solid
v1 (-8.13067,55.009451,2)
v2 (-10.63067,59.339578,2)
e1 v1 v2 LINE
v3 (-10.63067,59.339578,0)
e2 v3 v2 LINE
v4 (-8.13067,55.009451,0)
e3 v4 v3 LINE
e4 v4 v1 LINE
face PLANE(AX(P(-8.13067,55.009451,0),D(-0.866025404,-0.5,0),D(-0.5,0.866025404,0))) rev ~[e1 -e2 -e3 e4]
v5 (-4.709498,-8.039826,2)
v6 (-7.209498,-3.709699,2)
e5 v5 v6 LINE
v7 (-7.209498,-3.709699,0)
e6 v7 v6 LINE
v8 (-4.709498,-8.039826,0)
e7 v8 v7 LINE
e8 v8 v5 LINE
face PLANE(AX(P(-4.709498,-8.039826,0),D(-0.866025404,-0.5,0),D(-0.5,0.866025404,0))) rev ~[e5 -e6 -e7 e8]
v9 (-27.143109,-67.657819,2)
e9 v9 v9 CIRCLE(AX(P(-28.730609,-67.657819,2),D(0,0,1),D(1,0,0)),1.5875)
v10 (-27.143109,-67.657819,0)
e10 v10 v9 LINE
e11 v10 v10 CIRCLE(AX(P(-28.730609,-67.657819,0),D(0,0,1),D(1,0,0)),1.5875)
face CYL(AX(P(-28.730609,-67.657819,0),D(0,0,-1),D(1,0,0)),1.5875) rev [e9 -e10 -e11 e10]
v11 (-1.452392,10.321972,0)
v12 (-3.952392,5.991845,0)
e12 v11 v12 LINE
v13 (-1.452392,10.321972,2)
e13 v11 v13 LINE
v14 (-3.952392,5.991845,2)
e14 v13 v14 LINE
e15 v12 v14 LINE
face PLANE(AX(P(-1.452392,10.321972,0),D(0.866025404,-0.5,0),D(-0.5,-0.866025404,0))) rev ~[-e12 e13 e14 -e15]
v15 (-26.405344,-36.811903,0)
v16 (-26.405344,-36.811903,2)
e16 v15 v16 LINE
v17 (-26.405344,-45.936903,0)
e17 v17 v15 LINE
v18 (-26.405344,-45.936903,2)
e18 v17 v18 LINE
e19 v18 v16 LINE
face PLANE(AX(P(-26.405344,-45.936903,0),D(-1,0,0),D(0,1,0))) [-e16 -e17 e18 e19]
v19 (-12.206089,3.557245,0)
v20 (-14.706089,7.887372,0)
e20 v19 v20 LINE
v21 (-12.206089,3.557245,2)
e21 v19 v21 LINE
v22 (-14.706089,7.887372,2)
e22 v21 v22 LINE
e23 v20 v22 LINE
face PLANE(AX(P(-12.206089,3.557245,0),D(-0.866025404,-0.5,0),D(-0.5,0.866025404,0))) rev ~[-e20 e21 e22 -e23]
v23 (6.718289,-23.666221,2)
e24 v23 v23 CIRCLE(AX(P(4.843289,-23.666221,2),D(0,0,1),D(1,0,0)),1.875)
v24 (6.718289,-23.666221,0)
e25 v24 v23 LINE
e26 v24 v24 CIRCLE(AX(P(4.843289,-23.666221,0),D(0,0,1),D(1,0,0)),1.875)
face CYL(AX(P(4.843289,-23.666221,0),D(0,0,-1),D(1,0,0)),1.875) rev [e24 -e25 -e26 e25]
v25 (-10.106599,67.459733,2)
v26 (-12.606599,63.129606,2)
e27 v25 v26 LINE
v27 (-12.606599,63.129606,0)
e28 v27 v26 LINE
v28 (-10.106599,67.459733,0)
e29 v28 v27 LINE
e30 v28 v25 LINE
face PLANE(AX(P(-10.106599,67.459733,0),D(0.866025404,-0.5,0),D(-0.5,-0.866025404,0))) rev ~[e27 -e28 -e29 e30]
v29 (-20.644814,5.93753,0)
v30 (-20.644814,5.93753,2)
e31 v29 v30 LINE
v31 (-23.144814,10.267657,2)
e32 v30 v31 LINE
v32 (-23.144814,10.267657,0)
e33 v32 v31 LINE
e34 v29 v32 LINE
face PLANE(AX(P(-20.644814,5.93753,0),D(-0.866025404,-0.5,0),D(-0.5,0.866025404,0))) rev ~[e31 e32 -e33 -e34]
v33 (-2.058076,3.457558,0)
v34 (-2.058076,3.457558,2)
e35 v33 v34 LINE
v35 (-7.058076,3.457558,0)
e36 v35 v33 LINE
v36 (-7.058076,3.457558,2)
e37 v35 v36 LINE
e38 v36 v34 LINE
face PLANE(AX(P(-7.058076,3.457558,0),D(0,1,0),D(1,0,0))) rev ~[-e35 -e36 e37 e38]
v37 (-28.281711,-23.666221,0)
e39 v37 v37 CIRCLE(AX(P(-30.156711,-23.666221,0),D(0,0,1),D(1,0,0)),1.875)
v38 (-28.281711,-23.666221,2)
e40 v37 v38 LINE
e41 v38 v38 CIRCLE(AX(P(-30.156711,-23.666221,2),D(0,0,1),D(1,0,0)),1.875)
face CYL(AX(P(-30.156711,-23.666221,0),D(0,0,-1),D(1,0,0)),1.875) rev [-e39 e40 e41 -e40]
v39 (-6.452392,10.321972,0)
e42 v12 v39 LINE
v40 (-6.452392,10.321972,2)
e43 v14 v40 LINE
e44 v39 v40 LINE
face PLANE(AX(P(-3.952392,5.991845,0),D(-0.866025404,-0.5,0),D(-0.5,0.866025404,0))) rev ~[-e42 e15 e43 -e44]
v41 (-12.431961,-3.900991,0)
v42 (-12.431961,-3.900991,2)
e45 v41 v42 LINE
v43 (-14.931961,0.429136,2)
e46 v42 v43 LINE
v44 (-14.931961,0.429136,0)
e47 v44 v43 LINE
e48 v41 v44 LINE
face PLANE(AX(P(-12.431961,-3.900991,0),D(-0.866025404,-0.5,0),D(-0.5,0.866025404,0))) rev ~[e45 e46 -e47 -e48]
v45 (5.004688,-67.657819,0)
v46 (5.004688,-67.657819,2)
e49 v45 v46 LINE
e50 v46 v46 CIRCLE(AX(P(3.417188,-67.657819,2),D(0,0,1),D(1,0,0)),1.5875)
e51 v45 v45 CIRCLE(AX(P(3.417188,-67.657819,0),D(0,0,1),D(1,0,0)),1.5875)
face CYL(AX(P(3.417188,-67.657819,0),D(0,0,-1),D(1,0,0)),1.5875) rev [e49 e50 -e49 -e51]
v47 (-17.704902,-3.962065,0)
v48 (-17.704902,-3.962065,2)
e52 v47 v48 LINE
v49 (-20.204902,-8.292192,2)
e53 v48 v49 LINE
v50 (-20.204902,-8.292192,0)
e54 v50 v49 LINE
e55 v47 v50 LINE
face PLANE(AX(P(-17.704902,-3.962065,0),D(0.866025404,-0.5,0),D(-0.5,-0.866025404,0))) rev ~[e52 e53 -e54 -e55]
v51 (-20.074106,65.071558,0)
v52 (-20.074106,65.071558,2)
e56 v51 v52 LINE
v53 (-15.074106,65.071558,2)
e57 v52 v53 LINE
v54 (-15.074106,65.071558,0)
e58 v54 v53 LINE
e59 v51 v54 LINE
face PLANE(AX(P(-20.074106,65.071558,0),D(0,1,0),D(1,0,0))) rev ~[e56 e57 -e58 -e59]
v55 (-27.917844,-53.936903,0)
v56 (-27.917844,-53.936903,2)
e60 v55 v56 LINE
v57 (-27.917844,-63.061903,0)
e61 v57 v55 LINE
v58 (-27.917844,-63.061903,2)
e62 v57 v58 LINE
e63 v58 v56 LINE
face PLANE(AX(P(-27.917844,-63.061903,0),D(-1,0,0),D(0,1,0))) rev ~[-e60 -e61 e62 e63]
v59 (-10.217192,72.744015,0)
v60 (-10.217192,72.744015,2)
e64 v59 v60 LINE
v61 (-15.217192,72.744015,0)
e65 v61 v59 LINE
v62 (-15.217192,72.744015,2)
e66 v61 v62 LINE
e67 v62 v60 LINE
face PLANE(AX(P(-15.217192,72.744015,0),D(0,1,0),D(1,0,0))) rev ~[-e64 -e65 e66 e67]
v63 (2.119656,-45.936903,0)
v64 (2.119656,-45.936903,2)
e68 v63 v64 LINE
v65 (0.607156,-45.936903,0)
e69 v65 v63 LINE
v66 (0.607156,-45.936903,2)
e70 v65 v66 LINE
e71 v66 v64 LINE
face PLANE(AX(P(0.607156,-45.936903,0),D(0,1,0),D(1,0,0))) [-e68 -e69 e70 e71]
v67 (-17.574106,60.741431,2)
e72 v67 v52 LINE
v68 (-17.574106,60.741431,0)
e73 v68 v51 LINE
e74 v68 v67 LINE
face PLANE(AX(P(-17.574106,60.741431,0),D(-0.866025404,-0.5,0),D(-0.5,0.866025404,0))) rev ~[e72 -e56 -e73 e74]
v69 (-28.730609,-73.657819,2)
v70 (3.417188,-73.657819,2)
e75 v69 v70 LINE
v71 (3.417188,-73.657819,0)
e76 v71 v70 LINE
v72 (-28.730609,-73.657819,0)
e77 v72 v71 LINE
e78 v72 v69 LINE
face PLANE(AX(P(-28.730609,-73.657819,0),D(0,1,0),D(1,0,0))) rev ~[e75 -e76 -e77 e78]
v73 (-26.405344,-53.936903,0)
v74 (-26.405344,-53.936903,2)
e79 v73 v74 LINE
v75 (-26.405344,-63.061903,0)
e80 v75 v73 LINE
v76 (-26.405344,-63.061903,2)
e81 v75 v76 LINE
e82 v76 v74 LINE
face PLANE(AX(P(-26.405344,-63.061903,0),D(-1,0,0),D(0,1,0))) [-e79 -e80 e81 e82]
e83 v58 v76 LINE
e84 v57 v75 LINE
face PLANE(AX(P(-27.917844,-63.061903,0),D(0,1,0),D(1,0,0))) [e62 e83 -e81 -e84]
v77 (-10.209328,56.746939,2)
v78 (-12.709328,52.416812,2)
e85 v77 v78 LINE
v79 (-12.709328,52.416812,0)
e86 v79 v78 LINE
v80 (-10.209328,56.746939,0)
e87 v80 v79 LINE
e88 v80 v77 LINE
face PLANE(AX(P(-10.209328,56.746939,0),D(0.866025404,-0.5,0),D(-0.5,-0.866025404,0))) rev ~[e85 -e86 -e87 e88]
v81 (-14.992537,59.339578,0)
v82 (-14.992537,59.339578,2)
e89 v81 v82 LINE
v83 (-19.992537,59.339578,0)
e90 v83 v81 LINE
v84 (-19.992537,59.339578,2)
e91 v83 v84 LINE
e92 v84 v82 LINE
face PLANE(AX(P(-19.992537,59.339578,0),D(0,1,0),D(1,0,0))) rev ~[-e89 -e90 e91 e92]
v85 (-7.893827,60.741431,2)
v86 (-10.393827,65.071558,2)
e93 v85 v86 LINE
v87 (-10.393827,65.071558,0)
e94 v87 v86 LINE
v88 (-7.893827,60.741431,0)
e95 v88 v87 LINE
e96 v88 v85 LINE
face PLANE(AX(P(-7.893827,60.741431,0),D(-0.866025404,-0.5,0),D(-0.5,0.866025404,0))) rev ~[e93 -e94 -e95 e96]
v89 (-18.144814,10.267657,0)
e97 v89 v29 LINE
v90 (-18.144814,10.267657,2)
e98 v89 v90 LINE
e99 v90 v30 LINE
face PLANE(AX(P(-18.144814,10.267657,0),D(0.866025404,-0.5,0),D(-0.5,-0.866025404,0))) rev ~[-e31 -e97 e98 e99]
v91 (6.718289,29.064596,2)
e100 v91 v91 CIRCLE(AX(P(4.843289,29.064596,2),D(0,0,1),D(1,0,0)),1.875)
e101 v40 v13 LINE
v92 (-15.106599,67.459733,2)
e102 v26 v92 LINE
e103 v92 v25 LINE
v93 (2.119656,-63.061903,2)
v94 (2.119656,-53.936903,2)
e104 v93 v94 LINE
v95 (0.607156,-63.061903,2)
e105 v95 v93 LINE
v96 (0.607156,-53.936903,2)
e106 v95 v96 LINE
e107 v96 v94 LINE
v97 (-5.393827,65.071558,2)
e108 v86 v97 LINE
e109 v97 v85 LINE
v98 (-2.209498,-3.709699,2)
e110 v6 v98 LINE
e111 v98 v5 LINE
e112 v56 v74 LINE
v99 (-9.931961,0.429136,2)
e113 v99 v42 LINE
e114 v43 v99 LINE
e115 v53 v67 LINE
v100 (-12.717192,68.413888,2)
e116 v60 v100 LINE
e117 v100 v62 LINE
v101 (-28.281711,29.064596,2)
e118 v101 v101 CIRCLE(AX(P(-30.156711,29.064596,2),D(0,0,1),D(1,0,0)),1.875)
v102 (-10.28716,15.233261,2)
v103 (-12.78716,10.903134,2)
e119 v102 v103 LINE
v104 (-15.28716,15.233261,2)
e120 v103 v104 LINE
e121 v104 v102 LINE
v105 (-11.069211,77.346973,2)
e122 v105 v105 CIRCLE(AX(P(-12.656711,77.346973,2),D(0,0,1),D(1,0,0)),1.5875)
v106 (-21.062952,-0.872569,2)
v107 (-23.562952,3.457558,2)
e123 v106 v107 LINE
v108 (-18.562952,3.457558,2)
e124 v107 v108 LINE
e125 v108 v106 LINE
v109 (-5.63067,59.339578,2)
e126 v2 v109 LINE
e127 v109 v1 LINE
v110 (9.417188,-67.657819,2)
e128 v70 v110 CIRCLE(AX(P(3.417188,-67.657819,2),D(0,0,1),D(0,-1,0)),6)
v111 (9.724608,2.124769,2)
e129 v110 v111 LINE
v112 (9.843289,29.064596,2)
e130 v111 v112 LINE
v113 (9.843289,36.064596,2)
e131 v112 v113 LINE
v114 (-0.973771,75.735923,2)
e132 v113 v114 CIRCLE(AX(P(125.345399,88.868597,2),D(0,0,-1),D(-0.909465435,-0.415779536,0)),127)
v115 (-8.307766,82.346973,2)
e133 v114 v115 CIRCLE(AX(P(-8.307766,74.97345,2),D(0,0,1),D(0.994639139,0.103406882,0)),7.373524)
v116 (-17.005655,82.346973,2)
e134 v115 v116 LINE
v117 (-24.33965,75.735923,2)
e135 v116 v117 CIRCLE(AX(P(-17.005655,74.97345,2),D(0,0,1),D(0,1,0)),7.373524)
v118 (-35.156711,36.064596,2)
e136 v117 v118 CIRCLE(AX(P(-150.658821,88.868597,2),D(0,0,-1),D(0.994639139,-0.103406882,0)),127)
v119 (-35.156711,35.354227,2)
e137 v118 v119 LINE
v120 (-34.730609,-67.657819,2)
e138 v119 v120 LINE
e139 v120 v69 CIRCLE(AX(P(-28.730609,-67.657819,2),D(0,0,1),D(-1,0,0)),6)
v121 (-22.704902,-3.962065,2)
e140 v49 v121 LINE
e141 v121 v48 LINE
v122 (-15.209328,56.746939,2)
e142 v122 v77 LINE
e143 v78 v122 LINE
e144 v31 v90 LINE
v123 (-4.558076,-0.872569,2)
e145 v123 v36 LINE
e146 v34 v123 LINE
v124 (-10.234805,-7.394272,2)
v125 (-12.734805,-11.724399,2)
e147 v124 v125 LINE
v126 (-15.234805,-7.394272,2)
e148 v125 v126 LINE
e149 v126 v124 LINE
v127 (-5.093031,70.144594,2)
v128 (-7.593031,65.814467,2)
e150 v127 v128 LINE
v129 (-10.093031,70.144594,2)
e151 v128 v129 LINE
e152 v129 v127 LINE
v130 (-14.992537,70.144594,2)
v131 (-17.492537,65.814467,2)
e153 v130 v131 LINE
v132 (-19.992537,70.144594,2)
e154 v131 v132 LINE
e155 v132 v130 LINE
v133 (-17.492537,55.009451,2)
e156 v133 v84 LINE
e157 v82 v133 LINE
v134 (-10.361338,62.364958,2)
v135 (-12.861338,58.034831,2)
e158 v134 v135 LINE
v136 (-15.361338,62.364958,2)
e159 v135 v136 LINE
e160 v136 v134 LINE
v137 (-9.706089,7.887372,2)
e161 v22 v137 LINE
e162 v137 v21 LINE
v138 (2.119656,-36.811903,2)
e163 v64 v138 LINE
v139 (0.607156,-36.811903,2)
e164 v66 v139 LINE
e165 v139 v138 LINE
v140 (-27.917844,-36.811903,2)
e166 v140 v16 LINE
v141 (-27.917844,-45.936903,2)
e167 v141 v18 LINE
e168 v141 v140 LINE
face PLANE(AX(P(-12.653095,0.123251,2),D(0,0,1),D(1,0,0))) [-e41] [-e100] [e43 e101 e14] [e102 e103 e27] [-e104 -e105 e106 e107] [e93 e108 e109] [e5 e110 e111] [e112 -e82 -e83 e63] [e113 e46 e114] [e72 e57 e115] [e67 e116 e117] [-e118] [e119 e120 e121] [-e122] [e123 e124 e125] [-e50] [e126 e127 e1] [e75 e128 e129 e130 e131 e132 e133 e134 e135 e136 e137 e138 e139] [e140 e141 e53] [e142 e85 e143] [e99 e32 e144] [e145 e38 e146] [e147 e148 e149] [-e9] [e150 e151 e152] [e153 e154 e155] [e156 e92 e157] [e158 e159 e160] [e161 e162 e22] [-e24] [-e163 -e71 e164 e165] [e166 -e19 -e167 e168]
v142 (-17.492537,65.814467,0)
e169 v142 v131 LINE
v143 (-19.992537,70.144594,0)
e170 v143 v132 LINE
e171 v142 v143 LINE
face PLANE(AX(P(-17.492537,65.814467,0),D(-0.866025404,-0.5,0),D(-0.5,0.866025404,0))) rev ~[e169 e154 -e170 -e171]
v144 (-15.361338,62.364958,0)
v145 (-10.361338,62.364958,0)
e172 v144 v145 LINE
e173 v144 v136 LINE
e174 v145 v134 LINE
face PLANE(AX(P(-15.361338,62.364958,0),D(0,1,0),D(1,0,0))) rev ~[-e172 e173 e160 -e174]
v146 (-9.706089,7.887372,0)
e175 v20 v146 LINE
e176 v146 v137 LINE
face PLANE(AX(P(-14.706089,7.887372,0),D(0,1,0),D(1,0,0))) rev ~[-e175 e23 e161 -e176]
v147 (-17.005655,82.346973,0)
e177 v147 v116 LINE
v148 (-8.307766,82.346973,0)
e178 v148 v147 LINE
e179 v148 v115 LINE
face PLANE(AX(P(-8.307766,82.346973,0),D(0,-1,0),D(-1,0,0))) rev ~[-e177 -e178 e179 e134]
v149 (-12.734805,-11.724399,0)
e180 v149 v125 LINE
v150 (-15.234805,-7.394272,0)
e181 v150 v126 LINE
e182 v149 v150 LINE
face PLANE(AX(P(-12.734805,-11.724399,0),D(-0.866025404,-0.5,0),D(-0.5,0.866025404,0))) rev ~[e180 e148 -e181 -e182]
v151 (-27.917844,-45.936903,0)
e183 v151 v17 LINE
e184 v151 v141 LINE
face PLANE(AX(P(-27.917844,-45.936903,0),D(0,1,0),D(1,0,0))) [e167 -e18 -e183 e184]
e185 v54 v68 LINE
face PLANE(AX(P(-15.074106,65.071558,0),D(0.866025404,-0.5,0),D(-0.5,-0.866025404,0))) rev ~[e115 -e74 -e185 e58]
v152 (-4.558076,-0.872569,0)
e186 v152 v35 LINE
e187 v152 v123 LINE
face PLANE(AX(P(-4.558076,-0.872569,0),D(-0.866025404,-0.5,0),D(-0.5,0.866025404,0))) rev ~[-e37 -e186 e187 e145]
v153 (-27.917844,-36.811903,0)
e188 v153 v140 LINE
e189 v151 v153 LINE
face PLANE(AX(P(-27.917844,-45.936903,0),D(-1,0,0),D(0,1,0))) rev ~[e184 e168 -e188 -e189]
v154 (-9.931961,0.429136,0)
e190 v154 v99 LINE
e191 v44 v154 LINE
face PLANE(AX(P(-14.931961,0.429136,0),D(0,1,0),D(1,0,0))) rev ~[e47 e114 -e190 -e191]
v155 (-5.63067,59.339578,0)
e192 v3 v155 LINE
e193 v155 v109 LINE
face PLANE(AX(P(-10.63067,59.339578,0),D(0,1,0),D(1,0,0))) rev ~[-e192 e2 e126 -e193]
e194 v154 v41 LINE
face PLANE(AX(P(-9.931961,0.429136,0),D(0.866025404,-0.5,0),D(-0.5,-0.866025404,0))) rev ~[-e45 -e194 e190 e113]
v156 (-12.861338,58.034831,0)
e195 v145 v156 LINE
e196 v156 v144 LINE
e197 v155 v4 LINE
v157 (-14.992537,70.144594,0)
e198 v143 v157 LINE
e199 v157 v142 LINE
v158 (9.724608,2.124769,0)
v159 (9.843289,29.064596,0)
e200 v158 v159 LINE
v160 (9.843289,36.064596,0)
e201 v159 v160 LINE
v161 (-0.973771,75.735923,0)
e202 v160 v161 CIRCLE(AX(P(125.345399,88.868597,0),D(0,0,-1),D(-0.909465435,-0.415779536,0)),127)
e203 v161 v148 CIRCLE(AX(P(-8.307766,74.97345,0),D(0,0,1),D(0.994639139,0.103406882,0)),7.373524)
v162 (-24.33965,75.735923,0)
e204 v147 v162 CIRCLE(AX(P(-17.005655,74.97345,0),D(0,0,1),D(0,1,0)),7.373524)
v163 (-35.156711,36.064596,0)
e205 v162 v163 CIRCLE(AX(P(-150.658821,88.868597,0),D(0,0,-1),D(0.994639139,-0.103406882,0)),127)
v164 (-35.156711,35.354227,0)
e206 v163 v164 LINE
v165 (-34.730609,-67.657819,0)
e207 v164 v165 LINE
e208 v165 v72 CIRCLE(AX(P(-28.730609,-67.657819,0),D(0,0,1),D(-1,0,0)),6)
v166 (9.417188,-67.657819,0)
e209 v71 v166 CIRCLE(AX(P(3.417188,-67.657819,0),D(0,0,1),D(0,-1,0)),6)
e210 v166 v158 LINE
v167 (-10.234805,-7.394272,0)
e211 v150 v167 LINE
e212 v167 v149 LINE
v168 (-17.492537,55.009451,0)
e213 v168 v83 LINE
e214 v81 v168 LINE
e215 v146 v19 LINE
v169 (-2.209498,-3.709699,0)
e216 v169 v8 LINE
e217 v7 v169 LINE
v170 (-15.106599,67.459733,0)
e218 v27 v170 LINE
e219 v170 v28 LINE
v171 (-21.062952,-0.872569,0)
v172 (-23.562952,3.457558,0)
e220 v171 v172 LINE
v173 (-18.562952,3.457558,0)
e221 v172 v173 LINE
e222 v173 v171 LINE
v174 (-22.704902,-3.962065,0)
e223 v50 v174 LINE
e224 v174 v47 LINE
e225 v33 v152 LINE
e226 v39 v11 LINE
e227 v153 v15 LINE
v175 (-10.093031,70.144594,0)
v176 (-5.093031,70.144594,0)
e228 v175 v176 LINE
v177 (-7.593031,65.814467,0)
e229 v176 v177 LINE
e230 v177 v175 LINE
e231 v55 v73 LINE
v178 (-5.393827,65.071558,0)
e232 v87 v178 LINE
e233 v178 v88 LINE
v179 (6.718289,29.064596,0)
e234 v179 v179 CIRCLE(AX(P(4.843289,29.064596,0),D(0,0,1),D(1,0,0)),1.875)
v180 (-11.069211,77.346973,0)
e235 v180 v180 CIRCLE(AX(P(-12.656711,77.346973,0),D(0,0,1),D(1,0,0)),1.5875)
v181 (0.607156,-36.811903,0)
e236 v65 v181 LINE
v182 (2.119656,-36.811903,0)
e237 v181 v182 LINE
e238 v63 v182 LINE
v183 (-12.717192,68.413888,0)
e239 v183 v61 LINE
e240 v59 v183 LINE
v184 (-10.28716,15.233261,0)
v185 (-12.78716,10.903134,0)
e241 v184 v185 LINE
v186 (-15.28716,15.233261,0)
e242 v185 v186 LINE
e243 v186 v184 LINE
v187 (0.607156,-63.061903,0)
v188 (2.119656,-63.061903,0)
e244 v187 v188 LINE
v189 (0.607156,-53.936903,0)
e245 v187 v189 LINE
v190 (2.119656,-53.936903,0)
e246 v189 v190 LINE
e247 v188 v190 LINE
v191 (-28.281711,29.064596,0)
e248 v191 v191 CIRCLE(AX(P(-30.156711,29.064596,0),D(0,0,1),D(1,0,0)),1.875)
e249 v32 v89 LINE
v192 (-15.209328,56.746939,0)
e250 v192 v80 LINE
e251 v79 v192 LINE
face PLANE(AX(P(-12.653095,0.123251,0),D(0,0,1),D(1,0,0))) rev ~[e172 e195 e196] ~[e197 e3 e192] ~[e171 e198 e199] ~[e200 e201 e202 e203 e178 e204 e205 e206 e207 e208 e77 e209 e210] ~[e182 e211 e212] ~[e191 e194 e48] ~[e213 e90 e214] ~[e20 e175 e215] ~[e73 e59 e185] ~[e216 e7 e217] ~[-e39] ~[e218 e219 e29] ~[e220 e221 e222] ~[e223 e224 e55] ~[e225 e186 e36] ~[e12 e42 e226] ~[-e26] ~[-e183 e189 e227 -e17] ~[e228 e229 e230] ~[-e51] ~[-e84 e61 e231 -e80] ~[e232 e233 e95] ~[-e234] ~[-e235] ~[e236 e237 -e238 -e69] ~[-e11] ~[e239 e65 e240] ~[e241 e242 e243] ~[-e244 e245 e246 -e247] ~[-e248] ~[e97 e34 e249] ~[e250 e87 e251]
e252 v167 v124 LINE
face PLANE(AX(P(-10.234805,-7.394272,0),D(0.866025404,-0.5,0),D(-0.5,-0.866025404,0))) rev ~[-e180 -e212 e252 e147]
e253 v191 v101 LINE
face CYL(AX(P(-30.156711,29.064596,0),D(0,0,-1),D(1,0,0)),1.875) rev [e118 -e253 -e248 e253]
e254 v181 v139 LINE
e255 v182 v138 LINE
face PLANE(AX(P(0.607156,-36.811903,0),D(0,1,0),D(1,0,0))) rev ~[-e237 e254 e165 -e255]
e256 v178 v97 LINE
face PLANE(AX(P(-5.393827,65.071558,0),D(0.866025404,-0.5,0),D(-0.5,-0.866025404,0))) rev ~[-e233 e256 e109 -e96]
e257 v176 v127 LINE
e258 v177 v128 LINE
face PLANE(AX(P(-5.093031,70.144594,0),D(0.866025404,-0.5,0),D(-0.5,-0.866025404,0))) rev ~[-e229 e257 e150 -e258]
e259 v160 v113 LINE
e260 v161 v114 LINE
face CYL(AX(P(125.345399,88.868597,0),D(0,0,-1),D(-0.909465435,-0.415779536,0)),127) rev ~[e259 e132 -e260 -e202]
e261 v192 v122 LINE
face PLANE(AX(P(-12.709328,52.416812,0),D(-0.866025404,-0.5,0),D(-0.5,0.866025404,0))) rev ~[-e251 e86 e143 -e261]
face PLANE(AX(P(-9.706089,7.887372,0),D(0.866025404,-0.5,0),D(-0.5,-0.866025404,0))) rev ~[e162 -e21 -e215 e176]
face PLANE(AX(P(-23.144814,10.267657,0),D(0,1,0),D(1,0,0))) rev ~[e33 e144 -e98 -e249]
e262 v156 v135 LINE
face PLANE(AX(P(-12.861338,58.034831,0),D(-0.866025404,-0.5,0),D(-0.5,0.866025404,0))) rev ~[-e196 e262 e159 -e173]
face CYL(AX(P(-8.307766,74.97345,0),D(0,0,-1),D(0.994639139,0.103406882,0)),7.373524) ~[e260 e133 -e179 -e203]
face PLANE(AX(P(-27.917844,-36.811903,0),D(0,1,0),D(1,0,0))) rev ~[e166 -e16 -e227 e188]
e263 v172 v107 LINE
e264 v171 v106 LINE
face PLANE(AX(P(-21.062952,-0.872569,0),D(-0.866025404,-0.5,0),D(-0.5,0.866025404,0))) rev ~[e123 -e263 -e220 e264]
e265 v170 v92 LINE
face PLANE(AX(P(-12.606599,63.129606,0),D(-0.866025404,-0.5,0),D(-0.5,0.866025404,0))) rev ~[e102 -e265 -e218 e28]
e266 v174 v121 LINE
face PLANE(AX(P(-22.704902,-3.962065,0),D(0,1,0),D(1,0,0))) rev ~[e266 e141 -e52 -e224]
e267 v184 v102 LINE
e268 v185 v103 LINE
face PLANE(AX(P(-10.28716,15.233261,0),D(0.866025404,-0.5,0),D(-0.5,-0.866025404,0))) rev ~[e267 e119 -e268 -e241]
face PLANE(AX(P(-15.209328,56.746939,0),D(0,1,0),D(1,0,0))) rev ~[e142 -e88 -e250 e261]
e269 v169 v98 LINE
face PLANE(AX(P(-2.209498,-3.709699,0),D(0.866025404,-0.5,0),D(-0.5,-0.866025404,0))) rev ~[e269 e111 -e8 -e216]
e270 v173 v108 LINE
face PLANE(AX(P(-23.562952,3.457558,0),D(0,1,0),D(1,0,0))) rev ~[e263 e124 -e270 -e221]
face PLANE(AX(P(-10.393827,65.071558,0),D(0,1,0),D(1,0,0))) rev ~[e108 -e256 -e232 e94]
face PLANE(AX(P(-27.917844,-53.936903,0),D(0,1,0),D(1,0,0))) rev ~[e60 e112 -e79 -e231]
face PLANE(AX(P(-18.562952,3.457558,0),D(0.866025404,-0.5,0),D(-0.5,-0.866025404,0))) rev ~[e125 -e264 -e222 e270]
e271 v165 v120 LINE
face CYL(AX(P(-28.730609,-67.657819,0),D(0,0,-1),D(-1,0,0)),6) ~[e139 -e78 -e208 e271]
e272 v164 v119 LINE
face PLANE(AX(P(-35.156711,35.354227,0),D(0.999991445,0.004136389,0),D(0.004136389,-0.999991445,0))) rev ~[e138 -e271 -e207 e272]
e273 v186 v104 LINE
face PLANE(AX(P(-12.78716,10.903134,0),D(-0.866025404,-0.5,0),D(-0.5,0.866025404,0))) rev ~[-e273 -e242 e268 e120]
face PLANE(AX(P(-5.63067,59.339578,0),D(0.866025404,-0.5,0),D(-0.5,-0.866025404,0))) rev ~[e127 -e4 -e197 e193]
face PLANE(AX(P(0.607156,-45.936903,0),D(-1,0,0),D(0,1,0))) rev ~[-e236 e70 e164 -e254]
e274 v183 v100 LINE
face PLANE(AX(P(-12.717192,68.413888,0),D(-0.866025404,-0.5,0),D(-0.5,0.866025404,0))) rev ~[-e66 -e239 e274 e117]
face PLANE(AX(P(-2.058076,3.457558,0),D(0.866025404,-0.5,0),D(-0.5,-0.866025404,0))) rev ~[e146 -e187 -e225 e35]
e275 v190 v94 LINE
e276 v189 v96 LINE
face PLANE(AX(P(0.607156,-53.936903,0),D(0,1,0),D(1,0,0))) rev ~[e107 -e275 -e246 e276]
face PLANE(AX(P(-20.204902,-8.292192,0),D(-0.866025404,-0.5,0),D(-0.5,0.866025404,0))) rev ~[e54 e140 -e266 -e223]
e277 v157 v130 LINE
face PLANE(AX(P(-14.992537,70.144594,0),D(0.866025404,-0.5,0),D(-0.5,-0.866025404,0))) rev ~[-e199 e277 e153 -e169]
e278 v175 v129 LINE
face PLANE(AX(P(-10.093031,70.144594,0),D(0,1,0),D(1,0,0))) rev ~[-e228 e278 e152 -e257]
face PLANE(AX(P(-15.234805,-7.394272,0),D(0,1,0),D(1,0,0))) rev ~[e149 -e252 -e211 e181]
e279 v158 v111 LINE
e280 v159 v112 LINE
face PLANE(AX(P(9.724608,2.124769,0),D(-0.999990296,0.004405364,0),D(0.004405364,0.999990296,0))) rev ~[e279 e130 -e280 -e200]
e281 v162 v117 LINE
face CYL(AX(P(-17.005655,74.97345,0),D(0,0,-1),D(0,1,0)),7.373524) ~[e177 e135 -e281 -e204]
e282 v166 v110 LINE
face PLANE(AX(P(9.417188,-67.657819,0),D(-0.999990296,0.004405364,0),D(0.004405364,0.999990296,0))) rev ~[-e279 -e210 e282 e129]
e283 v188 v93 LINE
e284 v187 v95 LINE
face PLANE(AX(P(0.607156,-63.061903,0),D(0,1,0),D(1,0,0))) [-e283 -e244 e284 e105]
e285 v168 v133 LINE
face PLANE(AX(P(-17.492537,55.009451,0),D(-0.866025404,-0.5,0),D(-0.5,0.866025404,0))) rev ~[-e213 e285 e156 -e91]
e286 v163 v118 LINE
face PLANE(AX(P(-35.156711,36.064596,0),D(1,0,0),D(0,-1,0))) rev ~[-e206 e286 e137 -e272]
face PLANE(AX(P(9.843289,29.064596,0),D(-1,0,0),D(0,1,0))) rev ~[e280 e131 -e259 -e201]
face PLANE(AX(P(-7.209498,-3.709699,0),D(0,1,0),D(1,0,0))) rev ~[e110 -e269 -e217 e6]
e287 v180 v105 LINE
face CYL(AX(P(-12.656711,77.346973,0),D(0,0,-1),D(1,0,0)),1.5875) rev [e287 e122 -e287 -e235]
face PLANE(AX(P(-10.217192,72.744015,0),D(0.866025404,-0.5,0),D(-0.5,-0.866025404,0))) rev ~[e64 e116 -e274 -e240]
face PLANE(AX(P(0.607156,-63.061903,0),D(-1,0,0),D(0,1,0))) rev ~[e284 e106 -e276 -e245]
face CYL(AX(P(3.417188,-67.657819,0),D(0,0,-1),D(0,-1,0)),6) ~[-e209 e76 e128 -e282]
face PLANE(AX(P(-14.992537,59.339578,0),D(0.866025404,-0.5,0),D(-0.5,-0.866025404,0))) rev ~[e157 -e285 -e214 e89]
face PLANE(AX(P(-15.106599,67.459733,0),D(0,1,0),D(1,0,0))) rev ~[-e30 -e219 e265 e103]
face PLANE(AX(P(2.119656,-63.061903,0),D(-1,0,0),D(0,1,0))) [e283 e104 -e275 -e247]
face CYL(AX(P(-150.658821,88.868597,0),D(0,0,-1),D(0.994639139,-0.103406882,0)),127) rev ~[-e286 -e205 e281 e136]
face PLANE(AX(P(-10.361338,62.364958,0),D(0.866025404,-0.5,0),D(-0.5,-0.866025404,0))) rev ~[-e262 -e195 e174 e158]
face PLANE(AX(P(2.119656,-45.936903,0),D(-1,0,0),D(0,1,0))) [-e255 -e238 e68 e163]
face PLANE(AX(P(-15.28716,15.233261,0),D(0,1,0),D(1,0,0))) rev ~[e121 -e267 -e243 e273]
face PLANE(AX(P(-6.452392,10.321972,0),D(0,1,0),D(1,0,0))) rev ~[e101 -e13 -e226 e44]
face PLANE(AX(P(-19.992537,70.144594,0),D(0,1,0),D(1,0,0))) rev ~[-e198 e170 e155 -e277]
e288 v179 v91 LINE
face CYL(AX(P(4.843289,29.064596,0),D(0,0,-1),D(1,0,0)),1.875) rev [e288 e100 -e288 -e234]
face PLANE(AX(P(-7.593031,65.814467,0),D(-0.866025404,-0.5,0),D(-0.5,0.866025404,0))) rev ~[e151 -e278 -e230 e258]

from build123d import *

# Parameters (mm, degrees)
F0_R     = 1.5875
F0_W     = 1.5125
F0_H     = 9.125
F0_R_2   = 1.875
F1_DEPTH = 2


with BuildPart() as f1:
    # F0 (on Top) → F1 (new body)
    with BuildSketch(Plane.XY):
        with BuildLine():
            Line((-8.3077662669, 82.3469734799), (-12.6567107354, 82.3469734799))
            Line((-12.6567107354, 82.3469734799), (-17.0056552038, 82.3469734799))
            ThreePointArc((-17.0056552038, 82.3469734799), (-21.9425943503, 80.450262999), (-24.3396503152, 75.7359230148))
            ThreePointArc((-24.3396503152, 75.7359230148), (-28.1319401622, 55.4595641269), (-35.1567107354, 36.0645959539))
            Line((-35.1567107354, 36.0645959539), (-35.1567107354, 35.3542267511))
            Line((-35.1567107354, 35.3542267511), (-34.7306092033, -67.6578189428))
            ThreePointArc((-34.7306092033, -67.6578189428), (-32.9732498904, -71.9004596299), (-28.7306092033, -73.6578189428))
            Line((-28.7306092033, -73.6578189428), (3.4171877326, -73.6578189428))
            ThreePointArc((3.4171877326, -73.6578189428), (7.6598284197, -71.9004596299), (9.4171877326, -67.6578189428))
            Line((9.4171877326, -67.6578189428), (9.7246083807, 2.1247686199))
            Line((9.7246083807, 2.1247686199), (9.8432892646, 29.0645959539))
            Line((9.8432892646, 29.0645959539), (9.8432892646, 35.3542267511))
            Line((9.8432892646, 35.3542267511), (9.8432892646, 36.0645959539))
            ThreePointArc((9.8432892646, 36.0645959539), (2.8185186915, 55.4595641269), (-0.9737711555, 75.7359230148))
            ThreePointArc((-0.9737711555, 75.7359230148), (-3.3708271204, 80.450262999), (-8.3077662669, 82.3469734799))
        make_face()
        with Locations((-28.7306092033, -67.6578189428)):
            Circle(F0_R, mode=Mode.SUBTRACT)
        with Locations((-27.1615939174, -58.4994030434)):
            Rectangle(F0_W, F0_H, mode=Mode.SUBTRACT)
        with Locations((-27.1615939174, -41.3744030434)):
            Rectangle(F0_W, F0_H, mode=Mode.SUBTRACT)
        with Locations((-30.1567107354, -23.6662209918)):
            Circle(F0_R_2, mode=Mode.SUBTRACT)
        Polygon((-22.7049022828, -3.962064999), (-17.7049022828, -3.962064999), (-20.2049022828, -8.2921920179), align=None, mode=Mode.SUBTRACT)
        Polygon((-23.5629521225, 3.4575584355), (-18.5629521225, 3.4575584355), (-21.0629521225, -0.8725685834), align=None, mode=Mode.SUBTRACT)
        Polygon((-15.23480489, -7.3942718085), (-10.23480489, -7.3942718085), (-12.73480489, -11.7243988275), align=None, mode=Mode.SUBTRACT)
        with Locations((3.4171877326, -67.6578189428)):
            Circle(F0_R, mode=Mode.SUBTRACT)
        with Locations((1.3634060826, -58.4994030434)):
            Rectangle(F0_W, F0_H, mode=Mode.SUBTRACT)
        with Locations((1.3634060826, -41.3744030434)):
            Rectangle(F0_W, F0_H, mode=Mode.SUBTRACT)
        Polygon((-14.9319611404, 0.4291358414), (-9.9319611404, 0.4291358414), (-12.4319611404, -3.9009911775), align=None, mode=Mode.SUBTRACT)
        Polygon((-7.2094976817, -3.709698933), (-2.2094976817, -3.709698933), (-4.7094976817, -8.039825952), align=None, mode=Mode.SUBTRACT)
        Polygon((-7.0580758069, 3.4575584355), (-2.0580758069, 3.4575584355), (-4.5580758069, -0.8725685834), align=None, mode=Mode.SUBTRACT)
        with Locations((4.8432892646, -23.6662209918)):
            Circle(F0_R_2, mode=Mode.SUBTRACT)
        with Locations((-30.1567107354, 29.0645959539)):
            Circle(F0_R_2, mode=Mode.SUBTRACT)
        Polygon((-23.1448143635, 10.267657322), (-18.1448143635, 10.267657322), (-20.6448143635, 5.9375303031), align=None, mode=Mode.SUBTRACT)
        Polygon((-15.2871601198, 15.2332606736), (-10.2871601198, 15.2332606736), (-12.7871601198, 10.9031336547), align=None, mode=Mode.SUBTRACT)
        Polygon((-19.9925371002, 59.3395778543), (-14.9925371002, 59.3395778543), (-17.4925371002, 55.0094508354), align=None, mode=Mode.SUBTRACT)
        Polygon((-15.2093276296, 56.7469392914), (-10.2093276296, 56.7469392914), (-12.7093276296, 52.4168122725), align=None, mode=Mode.SUBTRACT)
        Polygon((-15.3613381002, 62.3649583209), (-10.3613381002, 62.3649583209), (-12.8613381002, 58.034831302), align=None, mode=Mode.SUBTRACT)
        Polygon((-20.0741064349, 65.0715577427), (-15.0741064349, 65.0715577427), (-17.5741064349, 60.7414307238), align=None, mode=Mode.SUBTRACT)
        Polygon((-19.9925371002, 70.1445944501), (-14.9925371002, 70.1445944501), (-17.4925371002, 65.8144674312), align=None, mode=Mode.SUBTRACT)
        Polygon((-15.2171917174, 72.7440145343), (-10.2171917174, 72.7440145343), (-12.7171917174, 68.4138875154), align=None, mode=Mode.SUBTRACT)
        Polygon((-14.7060893391, 7.8873719099), (-9.7060893391, 7.8873719099), (-12.2060893391, 3.557244891), align=None, mode=Mode.SUBTRACT)
        Polygon((-6.4523920331, 10.3219720546), (-1.4523920331, 10.3219720546), (-3.9523920331, 5.9918450356), align=None, mode=Mode.SUBTRACT)
        with Locations((4.8432892646, 29.0645959539)):
            Circle(F0_R_2, mode=Mode.SUBTRACT)
        Polygon((-10.6306696928, 59.3395778543), (-5.6306696928, 59.3395778543), (-8.1306696928, 55.0094508354), align=None, mode=Mode.SUBTRACT)
        Polygon((-15.1065990243, 67.459733436), (-10.1065990243, 67.459733436), (-12.6065990243, 63.1296064171), align=None, mode=Mode.SUBTRACT)
        Polygon((-10.3938269644, 65.0715577427), (-5.3938269644, 65.0715577427), (-7.8938269644, 60.7414307238), align=None, mode=Mode.SUBTRACT)
        Polygon((-10.0930306195, 70.1445944501), (-5.0930306195, 70.1445944501), (-7.5930306195, 65.8144674312), align=None, mode=Mode.SUBTRACT)
        with Locations((-12.6567107354, 77.3469734799)):
            Circle(F0_R, mode=Mode.SUBTRACT)
    extrude(amount=F1_DEPTH)


solid = f1.part
